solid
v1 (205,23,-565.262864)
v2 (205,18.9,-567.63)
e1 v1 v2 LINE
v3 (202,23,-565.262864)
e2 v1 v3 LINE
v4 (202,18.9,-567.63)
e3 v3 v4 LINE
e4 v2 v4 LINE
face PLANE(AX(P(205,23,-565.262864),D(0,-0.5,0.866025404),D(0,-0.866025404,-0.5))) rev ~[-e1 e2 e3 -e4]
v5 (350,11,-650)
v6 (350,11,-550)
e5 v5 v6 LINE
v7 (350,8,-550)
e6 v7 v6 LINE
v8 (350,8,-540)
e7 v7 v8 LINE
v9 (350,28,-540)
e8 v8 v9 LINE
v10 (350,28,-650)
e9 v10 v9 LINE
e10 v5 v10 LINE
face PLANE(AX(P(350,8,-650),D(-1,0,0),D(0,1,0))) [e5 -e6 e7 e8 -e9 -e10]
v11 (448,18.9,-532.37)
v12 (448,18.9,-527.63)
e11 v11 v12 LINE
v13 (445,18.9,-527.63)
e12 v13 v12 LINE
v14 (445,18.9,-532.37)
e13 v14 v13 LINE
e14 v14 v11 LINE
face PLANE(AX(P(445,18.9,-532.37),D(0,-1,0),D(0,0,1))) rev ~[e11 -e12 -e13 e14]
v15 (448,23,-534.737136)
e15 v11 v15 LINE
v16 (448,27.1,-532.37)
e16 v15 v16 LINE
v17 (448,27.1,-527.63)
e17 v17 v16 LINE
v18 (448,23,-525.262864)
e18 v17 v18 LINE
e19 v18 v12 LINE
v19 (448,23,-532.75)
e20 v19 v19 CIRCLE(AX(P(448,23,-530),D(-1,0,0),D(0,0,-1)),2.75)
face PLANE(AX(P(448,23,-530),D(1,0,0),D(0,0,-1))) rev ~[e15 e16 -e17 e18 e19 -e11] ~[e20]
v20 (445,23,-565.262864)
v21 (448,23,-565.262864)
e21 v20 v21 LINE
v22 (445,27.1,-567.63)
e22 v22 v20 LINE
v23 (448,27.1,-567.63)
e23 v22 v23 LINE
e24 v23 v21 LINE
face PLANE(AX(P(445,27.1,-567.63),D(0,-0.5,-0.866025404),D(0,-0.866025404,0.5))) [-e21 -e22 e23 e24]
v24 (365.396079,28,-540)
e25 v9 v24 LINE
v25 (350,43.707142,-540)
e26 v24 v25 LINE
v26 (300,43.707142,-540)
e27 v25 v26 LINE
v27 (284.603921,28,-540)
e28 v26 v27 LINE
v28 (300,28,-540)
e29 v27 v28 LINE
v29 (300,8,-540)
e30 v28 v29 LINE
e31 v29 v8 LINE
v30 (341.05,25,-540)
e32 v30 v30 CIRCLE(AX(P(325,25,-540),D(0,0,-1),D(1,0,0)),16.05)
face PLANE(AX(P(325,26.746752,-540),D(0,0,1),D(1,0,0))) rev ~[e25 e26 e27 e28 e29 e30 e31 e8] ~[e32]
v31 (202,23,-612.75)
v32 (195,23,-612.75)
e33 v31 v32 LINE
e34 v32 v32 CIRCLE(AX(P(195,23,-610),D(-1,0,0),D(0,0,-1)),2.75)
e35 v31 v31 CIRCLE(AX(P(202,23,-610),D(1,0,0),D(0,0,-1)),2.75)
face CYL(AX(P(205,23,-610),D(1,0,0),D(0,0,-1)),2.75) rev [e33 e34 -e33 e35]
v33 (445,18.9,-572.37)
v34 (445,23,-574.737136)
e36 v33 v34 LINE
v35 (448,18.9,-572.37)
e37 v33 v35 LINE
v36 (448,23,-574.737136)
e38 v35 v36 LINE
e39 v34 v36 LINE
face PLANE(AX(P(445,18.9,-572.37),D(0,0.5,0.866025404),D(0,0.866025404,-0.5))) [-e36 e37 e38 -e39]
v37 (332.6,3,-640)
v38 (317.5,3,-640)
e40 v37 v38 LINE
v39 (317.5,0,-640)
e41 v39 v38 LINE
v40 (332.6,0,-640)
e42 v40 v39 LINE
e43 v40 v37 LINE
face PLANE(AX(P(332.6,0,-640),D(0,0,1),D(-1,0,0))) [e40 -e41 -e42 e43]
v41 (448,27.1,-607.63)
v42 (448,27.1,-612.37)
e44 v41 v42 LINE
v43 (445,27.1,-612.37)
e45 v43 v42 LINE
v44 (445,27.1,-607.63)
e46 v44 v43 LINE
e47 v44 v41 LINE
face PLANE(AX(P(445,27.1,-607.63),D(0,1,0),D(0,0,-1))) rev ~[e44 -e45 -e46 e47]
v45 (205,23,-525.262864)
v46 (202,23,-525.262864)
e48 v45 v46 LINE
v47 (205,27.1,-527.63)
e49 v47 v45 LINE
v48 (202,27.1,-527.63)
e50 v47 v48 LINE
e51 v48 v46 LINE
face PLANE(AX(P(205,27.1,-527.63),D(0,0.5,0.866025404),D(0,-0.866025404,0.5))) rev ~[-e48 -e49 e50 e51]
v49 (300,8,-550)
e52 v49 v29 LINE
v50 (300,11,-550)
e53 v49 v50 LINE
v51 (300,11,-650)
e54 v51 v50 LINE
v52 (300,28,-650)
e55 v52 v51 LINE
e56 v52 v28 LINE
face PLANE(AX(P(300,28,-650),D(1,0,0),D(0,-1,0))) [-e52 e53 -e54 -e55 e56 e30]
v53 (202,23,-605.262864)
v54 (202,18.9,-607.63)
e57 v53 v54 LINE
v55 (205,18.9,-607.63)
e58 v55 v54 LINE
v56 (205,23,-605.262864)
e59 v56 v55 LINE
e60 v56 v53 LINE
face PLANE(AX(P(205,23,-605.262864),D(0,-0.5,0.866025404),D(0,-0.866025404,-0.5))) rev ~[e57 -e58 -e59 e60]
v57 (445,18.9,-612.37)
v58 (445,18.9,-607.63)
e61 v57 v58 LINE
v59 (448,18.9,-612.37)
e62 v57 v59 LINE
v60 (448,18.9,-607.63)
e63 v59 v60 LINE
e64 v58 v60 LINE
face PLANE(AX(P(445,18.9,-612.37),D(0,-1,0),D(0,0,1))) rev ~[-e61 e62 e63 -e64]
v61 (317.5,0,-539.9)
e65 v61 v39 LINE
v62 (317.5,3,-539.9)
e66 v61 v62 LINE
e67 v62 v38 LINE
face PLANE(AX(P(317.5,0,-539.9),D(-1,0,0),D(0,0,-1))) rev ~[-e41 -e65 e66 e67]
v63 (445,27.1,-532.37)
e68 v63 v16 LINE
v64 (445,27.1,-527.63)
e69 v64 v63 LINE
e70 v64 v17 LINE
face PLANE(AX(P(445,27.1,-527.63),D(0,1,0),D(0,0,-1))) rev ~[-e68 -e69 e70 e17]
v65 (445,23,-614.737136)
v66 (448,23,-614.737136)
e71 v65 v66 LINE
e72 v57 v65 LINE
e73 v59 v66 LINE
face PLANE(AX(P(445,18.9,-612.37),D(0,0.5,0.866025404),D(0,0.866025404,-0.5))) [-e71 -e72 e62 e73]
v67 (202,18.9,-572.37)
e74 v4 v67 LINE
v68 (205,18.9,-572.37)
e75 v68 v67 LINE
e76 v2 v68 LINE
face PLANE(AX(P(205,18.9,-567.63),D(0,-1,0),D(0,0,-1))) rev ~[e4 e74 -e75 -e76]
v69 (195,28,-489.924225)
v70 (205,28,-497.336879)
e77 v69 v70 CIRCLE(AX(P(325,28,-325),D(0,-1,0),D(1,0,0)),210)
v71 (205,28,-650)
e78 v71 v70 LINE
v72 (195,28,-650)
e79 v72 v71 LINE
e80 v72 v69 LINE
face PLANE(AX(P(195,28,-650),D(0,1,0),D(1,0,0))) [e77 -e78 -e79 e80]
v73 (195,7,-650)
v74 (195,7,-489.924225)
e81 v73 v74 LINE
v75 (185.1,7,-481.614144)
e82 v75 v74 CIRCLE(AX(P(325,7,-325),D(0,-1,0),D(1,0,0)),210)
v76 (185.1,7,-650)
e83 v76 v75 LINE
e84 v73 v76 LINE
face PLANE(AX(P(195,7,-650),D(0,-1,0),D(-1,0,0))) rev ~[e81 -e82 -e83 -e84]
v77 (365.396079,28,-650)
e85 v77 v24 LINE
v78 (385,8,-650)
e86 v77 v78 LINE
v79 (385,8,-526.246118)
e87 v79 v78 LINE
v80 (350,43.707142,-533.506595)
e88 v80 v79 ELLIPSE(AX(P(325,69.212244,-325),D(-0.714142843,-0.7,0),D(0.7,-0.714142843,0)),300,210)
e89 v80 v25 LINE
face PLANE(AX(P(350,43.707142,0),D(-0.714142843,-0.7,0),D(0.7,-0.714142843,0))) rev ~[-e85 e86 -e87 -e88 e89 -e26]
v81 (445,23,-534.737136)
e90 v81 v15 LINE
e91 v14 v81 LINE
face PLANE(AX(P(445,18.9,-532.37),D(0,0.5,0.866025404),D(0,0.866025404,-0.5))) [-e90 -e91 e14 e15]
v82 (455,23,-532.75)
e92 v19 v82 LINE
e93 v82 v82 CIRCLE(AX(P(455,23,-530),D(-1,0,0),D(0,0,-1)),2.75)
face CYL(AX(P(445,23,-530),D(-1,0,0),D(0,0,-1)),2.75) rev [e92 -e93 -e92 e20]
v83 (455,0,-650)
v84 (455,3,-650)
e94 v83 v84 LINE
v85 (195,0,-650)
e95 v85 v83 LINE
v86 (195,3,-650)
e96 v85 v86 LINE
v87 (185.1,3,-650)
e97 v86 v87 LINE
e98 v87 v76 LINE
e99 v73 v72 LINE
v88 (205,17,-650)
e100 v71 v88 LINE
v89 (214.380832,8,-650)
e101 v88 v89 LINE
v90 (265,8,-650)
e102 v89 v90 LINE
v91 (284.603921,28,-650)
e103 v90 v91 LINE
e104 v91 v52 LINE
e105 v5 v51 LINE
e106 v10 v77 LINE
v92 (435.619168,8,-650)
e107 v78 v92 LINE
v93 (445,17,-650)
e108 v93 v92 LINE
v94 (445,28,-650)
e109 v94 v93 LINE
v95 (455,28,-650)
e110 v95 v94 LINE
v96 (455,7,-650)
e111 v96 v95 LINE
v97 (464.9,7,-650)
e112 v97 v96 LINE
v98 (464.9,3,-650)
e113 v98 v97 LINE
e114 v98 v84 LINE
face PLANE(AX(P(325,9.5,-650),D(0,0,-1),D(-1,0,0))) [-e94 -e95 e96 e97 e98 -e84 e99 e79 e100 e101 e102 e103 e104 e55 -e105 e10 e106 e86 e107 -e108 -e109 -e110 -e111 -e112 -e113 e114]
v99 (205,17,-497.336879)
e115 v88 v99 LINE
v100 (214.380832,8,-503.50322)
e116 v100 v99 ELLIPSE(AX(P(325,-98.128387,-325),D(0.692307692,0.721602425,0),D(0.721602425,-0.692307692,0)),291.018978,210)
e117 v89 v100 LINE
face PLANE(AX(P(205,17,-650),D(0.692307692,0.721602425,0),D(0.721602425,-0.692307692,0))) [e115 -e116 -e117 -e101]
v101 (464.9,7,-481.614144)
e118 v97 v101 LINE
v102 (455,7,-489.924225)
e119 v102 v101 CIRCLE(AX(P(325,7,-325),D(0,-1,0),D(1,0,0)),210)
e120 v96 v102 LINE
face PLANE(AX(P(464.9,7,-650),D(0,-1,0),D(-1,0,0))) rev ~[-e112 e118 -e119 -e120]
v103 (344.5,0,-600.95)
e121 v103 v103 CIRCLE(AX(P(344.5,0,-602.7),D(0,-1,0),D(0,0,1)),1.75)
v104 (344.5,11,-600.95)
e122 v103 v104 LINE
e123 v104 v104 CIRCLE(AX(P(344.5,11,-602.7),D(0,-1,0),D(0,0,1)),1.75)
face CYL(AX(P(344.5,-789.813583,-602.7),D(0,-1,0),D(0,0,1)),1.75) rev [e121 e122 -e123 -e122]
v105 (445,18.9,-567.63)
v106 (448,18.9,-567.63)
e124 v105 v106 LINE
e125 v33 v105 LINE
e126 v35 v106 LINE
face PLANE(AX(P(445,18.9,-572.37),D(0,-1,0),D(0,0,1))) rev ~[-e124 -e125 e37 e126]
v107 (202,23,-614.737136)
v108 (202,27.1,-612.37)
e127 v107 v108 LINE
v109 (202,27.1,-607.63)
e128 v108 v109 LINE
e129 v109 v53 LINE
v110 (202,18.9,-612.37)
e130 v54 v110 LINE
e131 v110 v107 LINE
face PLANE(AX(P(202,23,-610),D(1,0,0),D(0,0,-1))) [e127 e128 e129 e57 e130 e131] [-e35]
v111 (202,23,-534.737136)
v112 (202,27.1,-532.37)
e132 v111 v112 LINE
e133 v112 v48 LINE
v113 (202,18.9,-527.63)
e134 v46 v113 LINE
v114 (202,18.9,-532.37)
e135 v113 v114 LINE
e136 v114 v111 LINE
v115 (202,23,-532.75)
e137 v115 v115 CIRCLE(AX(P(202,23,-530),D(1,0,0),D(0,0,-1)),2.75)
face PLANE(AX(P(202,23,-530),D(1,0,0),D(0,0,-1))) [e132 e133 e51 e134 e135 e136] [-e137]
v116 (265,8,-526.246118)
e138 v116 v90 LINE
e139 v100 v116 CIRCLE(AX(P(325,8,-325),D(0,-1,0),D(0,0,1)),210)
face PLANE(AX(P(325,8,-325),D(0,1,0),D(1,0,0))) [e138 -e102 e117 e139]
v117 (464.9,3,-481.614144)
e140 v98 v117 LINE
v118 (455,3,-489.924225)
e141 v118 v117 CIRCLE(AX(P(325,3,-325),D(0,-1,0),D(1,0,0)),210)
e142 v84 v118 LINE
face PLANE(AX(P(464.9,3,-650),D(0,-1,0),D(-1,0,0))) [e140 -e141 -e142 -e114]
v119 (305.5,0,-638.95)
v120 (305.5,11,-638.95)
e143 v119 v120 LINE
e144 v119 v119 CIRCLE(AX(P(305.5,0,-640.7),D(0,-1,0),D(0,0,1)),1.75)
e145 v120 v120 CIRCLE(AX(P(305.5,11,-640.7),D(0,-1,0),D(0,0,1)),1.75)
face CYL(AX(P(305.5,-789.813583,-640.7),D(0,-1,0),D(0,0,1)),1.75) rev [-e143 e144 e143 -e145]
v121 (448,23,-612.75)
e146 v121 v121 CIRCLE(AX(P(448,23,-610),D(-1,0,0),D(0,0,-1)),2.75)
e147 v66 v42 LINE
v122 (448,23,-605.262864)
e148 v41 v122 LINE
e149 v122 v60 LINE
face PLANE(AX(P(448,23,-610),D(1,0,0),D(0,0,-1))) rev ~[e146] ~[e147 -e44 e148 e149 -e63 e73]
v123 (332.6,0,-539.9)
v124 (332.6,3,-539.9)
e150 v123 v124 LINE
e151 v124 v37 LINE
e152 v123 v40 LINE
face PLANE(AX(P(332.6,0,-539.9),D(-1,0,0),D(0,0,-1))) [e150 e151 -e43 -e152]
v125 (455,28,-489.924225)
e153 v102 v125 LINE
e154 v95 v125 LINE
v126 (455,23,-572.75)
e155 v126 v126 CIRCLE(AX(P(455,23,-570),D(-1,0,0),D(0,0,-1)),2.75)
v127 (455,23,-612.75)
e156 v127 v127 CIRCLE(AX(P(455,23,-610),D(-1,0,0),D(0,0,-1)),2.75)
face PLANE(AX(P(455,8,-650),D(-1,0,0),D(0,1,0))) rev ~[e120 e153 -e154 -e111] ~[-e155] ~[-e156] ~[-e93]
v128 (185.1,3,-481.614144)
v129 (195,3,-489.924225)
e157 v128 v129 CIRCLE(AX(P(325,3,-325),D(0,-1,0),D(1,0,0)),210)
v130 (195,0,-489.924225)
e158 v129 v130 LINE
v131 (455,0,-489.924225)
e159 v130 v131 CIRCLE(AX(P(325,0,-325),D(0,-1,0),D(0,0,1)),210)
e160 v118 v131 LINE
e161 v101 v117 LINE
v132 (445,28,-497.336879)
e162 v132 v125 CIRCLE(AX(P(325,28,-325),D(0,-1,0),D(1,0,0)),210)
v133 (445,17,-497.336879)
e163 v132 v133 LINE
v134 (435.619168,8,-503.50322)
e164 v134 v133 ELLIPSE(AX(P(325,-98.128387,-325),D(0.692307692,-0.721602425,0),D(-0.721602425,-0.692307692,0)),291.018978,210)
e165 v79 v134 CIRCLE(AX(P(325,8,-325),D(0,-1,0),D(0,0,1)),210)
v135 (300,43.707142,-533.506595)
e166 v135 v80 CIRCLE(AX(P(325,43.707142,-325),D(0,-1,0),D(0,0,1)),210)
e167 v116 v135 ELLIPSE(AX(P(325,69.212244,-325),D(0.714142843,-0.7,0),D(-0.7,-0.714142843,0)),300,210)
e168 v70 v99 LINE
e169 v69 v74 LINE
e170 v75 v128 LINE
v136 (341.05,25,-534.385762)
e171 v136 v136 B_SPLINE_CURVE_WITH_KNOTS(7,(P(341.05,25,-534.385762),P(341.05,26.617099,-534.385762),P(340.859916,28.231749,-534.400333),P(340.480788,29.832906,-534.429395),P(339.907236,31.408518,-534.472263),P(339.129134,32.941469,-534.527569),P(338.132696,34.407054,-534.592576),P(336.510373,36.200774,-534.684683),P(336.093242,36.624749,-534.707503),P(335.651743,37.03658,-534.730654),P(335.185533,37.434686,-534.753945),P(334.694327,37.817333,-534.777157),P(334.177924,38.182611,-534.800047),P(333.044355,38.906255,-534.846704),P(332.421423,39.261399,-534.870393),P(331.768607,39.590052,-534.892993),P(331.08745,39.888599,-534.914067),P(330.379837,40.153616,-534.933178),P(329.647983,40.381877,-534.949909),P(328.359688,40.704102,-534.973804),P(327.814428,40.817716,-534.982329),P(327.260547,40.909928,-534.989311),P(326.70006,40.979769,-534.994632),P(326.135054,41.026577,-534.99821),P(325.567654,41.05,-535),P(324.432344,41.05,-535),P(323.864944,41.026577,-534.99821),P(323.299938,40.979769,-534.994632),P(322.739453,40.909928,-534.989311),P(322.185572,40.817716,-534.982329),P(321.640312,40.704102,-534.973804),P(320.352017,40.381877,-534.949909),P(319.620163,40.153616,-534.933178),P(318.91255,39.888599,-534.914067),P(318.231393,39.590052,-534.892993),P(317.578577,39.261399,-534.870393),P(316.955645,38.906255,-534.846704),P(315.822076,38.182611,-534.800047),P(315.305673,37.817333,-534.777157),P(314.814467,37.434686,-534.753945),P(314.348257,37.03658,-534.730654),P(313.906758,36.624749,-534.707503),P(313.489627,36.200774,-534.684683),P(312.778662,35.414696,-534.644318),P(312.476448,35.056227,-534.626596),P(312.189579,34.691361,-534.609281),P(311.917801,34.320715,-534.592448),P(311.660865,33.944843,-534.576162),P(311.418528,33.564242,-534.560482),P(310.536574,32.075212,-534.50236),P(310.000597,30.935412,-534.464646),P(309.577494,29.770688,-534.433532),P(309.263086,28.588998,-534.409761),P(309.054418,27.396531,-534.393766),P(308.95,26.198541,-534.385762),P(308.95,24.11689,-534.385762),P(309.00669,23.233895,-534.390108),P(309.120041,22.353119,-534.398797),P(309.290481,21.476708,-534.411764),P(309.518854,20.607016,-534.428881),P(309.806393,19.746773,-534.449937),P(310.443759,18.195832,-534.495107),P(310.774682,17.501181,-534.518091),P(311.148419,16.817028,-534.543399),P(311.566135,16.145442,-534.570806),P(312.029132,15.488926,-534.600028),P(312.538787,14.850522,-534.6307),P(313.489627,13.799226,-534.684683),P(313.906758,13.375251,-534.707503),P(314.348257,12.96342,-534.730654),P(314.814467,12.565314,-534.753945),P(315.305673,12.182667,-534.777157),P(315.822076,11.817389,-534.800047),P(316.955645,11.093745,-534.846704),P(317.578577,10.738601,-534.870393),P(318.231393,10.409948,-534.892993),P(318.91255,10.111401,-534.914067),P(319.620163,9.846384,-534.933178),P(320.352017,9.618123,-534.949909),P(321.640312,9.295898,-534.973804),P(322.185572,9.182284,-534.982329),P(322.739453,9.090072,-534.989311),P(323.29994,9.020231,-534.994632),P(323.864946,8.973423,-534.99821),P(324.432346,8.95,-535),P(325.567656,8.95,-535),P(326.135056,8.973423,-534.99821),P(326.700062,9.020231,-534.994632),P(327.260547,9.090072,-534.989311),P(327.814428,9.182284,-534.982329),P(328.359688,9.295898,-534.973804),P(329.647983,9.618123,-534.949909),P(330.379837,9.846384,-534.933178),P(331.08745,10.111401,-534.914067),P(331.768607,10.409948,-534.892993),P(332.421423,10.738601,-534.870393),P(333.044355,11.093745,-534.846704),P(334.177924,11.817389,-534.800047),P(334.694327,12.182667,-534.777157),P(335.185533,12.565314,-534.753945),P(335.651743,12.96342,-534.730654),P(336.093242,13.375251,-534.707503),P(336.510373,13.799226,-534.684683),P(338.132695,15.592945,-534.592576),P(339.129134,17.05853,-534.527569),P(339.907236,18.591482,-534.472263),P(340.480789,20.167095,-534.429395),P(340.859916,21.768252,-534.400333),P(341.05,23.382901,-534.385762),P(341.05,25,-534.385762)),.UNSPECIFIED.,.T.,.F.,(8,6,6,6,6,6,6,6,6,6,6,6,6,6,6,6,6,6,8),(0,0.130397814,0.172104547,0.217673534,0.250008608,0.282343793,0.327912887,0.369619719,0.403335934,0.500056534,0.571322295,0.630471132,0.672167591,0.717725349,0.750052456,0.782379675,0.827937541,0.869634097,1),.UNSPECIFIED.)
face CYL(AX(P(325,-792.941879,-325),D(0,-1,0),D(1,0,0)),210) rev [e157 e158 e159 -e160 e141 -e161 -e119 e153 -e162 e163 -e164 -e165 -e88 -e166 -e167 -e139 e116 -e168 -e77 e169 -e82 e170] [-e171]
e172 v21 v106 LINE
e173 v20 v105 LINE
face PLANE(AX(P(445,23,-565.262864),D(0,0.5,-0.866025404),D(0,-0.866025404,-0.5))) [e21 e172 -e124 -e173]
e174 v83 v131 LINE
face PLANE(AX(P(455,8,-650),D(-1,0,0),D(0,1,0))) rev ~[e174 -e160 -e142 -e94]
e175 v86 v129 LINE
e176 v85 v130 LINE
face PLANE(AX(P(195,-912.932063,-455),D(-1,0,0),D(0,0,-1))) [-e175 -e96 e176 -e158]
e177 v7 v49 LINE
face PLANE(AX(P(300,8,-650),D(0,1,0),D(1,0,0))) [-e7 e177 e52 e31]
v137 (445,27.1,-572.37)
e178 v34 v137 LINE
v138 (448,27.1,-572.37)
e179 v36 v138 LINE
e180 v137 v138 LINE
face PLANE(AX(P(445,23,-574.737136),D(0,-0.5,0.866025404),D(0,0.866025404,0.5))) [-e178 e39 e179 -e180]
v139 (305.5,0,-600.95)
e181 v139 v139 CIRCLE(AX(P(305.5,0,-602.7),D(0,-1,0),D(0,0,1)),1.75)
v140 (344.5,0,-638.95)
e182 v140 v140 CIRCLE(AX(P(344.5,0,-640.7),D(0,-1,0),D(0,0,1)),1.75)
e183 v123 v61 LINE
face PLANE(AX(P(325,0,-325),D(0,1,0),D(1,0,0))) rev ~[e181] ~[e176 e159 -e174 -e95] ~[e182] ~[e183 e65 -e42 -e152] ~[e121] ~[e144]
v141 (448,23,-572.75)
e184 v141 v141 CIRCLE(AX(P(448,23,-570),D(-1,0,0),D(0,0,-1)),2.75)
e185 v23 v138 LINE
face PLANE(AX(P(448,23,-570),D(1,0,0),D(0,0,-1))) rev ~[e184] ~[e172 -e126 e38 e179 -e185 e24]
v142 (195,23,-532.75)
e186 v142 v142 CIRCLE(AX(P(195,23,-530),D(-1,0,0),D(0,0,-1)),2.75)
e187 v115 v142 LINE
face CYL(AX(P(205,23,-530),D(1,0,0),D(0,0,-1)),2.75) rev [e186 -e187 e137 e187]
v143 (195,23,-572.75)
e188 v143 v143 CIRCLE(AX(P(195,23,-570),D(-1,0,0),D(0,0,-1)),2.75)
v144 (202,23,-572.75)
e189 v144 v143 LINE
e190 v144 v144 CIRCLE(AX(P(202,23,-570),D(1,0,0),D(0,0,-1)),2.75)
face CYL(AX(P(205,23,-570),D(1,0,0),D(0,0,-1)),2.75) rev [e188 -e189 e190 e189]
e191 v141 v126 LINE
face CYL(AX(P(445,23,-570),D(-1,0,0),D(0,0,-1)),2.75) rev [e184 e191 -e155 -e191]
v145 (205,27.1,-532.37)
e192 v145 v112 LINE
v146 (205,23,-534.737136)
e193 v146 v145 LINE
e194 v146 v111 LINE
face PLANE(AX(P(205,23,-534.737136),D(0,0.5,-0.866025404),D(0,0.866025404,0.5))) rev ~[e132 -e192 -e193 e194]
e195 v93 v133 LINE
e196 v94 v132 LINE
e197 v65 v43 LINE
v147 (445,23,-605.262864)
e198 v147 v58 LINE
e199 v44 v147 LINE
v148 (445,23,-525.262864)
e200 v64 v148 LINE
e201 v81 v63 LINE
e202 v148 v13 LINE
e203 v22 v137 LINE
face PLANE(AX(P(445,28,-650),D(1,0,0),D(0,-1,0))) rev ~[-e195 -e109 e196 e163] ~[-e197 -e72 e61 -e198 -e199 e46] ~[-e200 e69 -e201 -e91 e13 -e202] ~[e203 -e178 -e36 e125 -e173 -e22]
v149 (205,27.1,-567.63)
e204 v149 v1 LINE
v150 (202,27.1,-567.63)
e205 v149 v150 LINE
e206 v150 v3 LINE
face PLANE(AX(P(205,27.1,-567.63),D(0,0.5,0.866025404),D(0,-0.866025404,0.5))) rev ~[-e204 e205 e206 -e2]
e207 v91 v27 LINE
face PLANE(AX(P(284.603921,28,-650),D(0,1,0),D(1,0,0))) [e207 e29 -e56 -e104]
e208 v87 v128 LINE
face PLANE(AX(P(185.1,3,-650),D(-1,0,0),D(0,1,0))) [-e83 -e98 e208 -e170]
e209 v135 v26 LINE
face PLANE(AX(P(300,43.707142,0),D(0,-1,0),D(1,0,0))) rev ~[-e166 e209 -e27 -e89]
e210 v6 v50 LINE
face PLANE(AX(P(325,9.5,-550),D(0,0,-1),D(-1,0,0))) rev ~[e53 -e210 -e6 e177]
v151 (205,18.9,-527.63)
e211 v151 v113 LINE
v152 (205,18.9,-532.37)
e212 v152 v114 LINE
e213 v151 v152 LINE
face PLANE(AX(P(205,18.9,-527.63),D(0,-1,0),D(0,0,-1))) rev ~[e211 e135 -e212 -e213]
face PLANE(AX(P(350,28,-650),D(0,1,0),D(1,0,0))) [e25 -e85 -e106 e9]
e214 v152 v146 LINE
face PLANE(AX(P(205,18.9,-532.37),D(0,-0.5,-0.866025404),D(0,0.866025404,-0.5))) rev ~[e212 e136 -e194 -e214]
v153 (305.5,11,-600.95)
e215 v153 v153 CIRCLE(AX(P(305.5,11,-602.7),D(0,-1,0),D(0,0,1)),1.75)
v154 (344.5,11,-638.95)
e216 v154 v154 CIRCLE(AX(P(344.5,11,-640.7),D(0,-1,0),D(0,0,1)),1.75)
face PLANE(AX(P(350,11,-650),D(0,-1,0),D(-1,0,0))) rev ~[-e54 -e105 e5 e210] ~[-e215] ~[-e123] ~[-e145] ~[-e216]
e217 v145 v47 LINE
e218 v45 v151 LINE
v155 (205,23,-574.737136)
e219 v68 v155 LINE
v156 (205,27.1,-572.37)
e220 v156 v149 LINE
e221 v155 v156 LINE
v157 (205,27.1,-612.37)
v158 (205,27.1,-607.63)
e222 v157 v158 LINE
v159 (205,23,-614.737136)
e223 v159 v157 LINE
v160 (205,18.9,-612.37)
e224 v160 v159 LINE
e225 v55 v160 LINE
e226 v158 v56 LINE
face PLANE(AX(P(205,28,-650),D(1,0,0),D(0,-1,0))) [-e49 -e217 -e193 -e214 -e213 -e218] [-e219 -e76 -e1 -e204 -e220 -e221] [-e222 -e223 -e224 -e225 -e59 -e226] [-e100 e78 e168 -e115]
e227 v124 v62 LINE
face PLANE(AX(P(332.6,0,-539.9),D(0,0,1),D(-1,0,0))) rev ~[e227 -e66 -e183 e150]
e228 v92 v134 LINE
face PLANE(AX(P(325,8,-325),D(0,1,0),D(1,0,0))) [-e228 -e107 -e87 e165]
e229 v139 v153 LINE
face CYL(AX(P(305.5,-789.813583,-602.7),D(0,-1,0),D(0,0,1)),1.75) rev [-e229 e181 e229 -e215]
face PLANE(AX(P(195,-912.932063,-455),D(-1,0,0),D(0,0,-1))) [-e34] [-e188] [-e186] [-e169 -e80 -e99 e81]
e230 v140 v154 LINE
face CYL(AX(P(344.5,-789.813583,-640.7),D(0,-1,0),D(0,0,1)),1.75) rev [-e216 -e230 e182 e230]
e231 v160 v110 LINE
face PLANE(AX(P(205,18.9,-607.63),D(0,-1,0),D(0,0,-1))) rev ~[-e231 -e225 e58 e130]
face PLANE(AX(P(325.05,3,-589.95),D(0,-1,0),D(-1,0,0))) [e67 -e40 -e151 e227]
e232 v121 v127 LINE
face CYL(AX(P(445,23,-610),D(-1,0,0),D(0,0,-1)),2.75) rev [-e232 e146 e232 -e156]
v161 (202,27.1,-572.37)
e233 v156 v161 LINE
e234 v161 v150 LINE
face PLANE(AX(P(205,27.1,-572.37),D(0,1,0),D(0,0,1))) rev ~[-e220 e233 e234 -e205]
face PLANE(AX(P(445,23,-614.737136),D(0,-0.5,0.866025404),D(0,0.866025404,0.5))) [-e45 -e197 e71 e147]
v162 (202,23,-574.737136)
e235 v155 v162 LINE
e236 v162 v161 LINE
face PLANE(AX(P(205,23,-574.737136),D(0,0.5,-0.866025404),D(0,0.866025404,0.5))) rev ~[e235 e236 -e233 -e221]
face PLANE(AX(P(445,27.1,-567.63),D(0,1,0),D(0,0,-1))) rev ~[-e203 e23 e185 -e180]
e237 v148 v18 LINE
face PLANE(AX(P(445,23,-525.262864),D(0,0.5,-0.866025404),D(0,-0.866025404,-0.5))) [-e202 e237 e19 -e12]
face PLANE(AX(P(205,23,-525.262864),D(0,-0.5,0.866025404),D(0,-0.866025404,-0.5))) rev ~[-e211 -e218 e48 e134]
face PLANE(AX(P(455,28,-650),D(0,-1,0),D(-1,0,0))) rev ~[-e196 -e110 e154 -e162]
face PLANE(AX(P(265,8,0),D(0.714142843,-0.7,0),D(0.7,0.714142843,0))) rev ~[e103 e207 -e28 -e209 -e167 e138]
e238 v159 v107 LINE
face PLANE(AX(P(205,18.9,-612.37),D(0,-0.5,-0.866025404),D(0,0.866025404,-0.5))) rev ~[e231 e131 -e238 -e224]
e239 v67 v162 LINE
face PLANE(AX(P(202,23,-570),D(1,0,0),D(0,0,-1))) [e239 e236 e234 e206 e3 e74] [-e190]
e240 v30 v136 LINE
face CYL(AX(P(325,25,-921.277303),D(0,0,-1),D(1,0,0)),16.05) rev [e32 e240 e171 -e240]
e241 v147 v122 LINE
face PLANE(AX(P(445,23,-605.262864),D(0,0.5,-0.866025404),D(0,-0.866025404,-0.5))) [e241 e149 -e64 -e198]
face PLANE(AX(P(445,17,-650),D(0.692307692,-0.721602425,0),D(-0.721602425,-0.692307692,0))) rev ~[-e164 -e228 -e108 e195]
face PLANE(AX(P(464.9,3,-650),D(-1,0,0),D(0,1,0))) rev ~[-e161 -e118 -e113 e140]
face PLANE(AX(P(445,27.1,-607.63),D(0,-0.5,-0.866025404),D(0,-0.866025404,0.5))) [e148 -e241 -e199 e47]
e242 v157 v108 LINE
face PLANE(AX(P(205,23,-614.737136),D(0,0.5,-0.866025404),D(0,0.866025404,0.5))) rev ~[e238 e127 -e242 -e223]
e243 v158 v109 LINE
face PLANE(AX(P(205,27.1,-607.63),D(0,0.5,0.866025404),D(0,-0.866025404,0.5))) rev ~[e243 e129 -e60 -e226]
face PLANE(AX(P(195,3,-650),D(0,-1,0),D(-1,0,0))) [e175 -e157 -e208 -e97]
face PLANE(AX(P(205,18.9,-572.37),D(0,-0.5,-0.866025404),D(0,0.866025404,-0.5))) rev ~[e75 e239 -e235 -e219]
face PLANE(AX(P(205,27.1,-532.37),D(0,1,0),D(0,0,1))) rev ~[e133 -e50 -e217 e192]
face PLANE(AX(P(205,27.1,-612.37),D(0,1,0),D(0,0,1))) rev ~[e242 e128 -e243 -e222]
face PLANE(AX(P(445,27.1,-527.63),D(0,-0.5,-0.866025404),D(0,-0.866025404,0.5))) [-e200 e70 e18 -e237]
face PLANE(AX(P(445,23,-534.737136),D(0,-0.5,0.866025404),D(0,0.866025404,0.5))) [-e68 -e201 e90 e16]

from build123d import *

# Parameters (mm, degrees)
SKETCH1_W               = 650
SKETCH1_H               = 650
BOSS_EXTRUDE1_DEPTH     = 8
BOSS_EXTRUDE2_DEPTH     = 650
CUT_EXTRUDE2_DEPTH      = 921.277302922
CUT_EXTRUDE2_DEPTH_BACK = 921.277302922
SKETCH4_R               = 16.05
CUT_EXTRUDE1_DEPTH      = 920.932062709
CUT_EXTRUDE1_DEPTH_BACK = 920.932062709
SKETCH2_R               = 210
CUT_EXTRUDE3_DEPTH      = 921.277302998
CUT_EXTRUDE3_DEPTH_BACK = 110
CUT_EXTRUDE4_DEPTH      = 110
CUT_EXTRUDE5_DEPTH      = 920.932062713
CUT_EXTRUDE5_DEPTH_BACK = 920.932062713
SKETCH7_OUTSIDE_W       = 836.056
SKETCH7_OUTSIDE_H       = 836.056
SKETCH7_OUTSIDE_W_2     = 260
SKETCH7_OUTSIDE_H_2     = 231.544504505
BOSS_EXTRUDE3_DEPTH     = 170
SKETCH9_W               = 9.9
SKETCH9_H               = 4
BOSS_EXTRUDE4_DEPTH     = 170
CUT_EXTRUDE6_DEPTH      = 800.941879143
CUT_EXTRUDE6_DEPTH_BACK = 800.941879143
SKETCH10_R              = 210
SKETCH11_W              = 50
SKETCH11_H              = 3
BOSS_EXTRUDE5_DEPTH     = 100
CUT_EXTRUDE7_DEPTH      = 800.81358281
CUT_EXTRUDE7_DEPTH_BACK = 800.81358281
SKETCH12_R              = 1.75
CUT_EXTRUDE8_DEPTH      = 706.164040729
CUT_EXTRUDE8_DEPTH_BACK = 10
SKETCH13_R              = 2.75
CUT_EXTRUDE9_START      = -10
SKETCH14_R              = 2.75
CUT_EXTRUDE9_DEPTH      = 10
CUT_EXTRUDE10_DEPTH     = 3
LPATTERN1_COUNT         = 3
LPATTERN1_PITCH         = 40
CUT_EXTRUDE11_DEPTH     = 3
LPATTERN2_COUNT         = 3
LPATTERN2_PITCH         = 40
SKETCH17_W              = 15.1
SKETCH17_H              = 100.1
CUT_EXTRUDE12_DEPTH     = 3


with BuildPart() as part:
    # Sketch1 → Boss-Extrude1 (new body)
    with BuildSketch(Plane(origin=(0, 0, 0), x_dir=(1, 0, 0), z_dir=(0, 1, 0))):
        with Locations((325, 325)):
            Rectangle(SKETCH1_W, SKETCH1_H)
    extrude(amount=BOSS_EXTRUDE1_DEPTH)

    # Sketch3 → Boss-Extrude2 (add)
    with BuildSketch(Plane.XY):
        Polygon((300, 43.707142143), (350, 43.707142143), (385, 8), (265, 8), align=None)
    extrude(amount=-BOSS_EXTRUDE2_DEPTH)

    # Sketch4 → Cut-Extrude2 (cut, two sides: drawn at the far end of the back side and taken through both)
    with BuildSketch(Plane.XY.offset(-CUT_EXTRUDE2_DEPTH_BACK)):
        with Locations((325, 25)):
            Circle(SKETCH4_R)
    extrude(amount=CUT_EXTRUDE2_DEPTH + CUT_EXTRUDE2_DEPTH_BACK, mode=Mode.SUBTRACT)

    # Sketch2 → Cut-Extrude1 (cut, two sides: drawn at the far end of the back side and taken through both)
    with BuildSketch(Plane(origin=(0, 8, 0), x_dir=(1, 0, 0), z_dir=(0, 1, 0)).offset(-CUT_EXTRUDE1_DEPTH_BACK)):
        with Locations(Location((325, 325, 0), (0, 0, 270))):
            Circle(SKETCH2_R)
    extrude(amount=CUT_EXTRUDE1_DEPTH + CUT_EXTRUDE1_DEPTH_BACK, mode=Mode.SUBTRACT)

    # Sketch5 → Cut-Extrude3 (cut, two sides: drawn at the far end of the back side and taken through both)
    with BuildSketch(Plane.XY.offset(-CUT_EXTRUDE3_DEPTH_BACK)):
        Polygon((300, 43.707142143), (350, 43.707142143), (365.396078824, 28), (350, 28), (350, 8), (300, 8), (300, 28), (284.603921176, 28), align=None)
    extrude(amount=CUT_EXTRUDE3_DEPTH + CUT_EXTRUDE3_DEPTH_BACK, mode=Mode.SUBTRACT)

    # Sketch6 → Cut-Extrude4 (cut)
    with BuildSketch(Plane(origin=(0, 0, -650), x_dir=(-1, 0, 0), z_dir=(0, 0, -1))):
        Polygon((-350, 43.707142143), (-300, 43.707142143), (-284.603921176, 28), (-300, 28), (-300, 8), (-350, 8), (-350, 28), (-365.396078824, 28), align=None)
    extrude(amount=-CUT_EXTRUDE4_DEPTH, mode=Mode.SUBTRACT)

    # Sketch7 outside → Cut-Extrude5 (cut, two sides: drawn at the far end of the back side and taken through both)
    with BuildSketch(Plane(origin=(0, 8, 0), x_dir=(1, 0, 0), z_dir=(0, 1, 0)).offset(-CUT_EXTRUDE5_DEPTH_BACK)):
        with Locations((325, 325)):
            Rectangle(SKETCH7_OUTSIDE_W, SKETCH7_OUTSIDE_H)
        with Locations((325, 570.772252253)):
            Rectangle(SKETCH7_OUTSIDE_W_2, SKETCH7_OUTSIDE_H_2, mode=Mode.SUBTRACT)
    extrude(amount=CUT_EXTRUDE5_DEPTH + CUT_EXTRUDE5_DEPTH_BACK, mode=Mode.SUBTRACT)

    # Sketch8 → Boss-Extrude3 (add)
    with BuildSketch(Plane(origin=(0, 0, -650), x_dir=(-1, 0, 0), z_dir=(0, 0, -1))):
        Polygon((-455, 8), (-455, 28), (-445, 28), (-445, 17), (-435.61916848, 8), align=None)
        Polygon((-195, 8), (-195, 28), (-205, 28), (-205, 17), (-214.38083152, 8), align=None)
    extrude(amount=-BOSS_EXTRUDE3_DEPTH)

    # Sketch9 → Boss-Extrude4 (add)
    with BuildSketch(Plane(origin=(0, 0, -650), x_dir=(-1, 0, 0), z_dir=(0, 0, -1))):
        with Locations((-459.95, 5)):
            Rectangle(SKETCH9_W, SKETCH9_H)
        with Locations((-190.05, 5)):
            Rectangle(SKETCH9_W, SKETCH9_H)
    extrude(amount=-BOSS_EXTRUDE4_DEPTH)

    # Sketch10 → Cut-Extrude6 (cut, two sides: drawn at the far end of the back side and taken through both)
    with BuildSketch(Plane(origin=(0, 8, 0), x_dir=(1, 0, 0), z_dir=(0, 1, 0)).offset(-CUT_EXTRUDE6_DEPTH_BACK)):
        with Locations((325, 325)):
            Circle(SKETCH10_R)
    extrude(amount=CUT_EXTRUDE6_DEPTH + CUT_EXTRUDE6_DEPTH_BACK, mode=Mode.SUBTRACT)

    # Sketch11 → Boss-Extrude5 (add)
    with BuildSketch(Plane(origin=(0, 0, -650), x_dir=(-1, 0, 0), z_dir=(0, 0, -1))):
        with Locations((-325, 9.5)):
            Rectangle(SKETCH11_W, SKETCH11_H)
    extrude(amount=-BOSS_EXTRUDE5_DEPTH)

    # Sketch12 → Cut-Extrude7 (cut, two sides: drawn at the far end of the back side and taken through both)
    with BuildSketch(Plane(origin=(0, 11, 0), x_dir=(1, 0, 0), z_dir=(0, 1, 0)).offset(-CUT_EXTRUDE7_DEPTH_BACK)):
        with Locations(Location((305.5, 640.7, 0), (0, 0, 270))):
            Circle(SKETCH12_R)
        with Locations(Location((344.5, 640.7, 0), (0, 0, 270))):
            Circle(SKETCH12_R)
        with Locations(Location((344.5, 602.7, 0), (0, 0, 270))):
            Circle(SKETCH12_R)
        with Locations(Location((305.5, 602.7, 0), (0, 0, 270))):
            Circle(SKETCH12_R)
    extrude(amount=CUT_EXTRUDE7_DEPTH + CUT_EXTRUDE7_DEPTH_BACK, mode=Mode.SUBTRACT)

    # Sketch13 → Cut-Extrude8 (cut, two sides: drawn at the far end of the back side and taken through both)
    with BuildSketch(Plane(origin=(455, 0, 0), x_dir=(0, 0, -1), z_dir=(1, 0, 0)).offset(-CUT_EXTRUDE8_DEPTH_BACK)):
        with Locations((610, 23)):
            Circle(SKETCH13_R)
        with Locations((570, 23)):
            Circle(SKETCH13_R)
        with Locations((530, 23)):
            Circle(SKETCH13_R)
    extrude(amount=CUT_EXTRUDE8_DEPTH + CUT_EXTRUDE8_DEPTH_BACK, mode=Mode.SUBTRACT)

    # Sketch14 → Cut-Extrude9 (cut)
    with BuildSketch(Plane.ZY.offset(-195).offset(CUT_EXTRUDE9_START)):
        with Locations(Location((-610, 23, 0), (0, 0, 180))):
            Circle(SKETCH14_R)
        with Locations(Location((-570, 23, 0), (0, 0, 180))):
            Circle(SKETCH14_R)
        with Locations(Location((-530, 23, 0), (0, 0, 180))):
            Circle(SKETCH14_R)
    extrude(amount=CUT_EXTRUDE9_DEPTH, mode=Mode.SUBTRACT)

    # Sketch15 → Cut-Extrude10 (cut)
    with BuildSketch(Plane(origin=(205, 0, 0), x_dir=(0, 0, -1), z_dir=(1, 0, 0))):
        Polygon((530, 27.1), (527.63, 27.1), (525.262863896, 23), (527.63, 18.9), (530, 18.9), (532.37, 18.9), (534.737136104, 23), (532.37, 27.1), align=None)
    cut_extrude10 = extrude(amount=-CUT_EXTRUDE10_DEPTH, mode=Mode.SUBTRACT)

    # LPattern1: Cut-Extrude10 ×3
    with Locations(*[(0, 0, -i * LPATTERN1_PITCH) for i in range(1, LPATTERN1_COUNT)]):
        add(cut_extrude10, mode=Mode.SUBTRACT)

    # Sketch16 → Cut-Extrude11 (cut)
    with BuildSketch(Plane.ZY.offset(-445)):
        Polygon((-610, 27.1), (-607.63, 27.1), (-605.262863896, 23), (-607.63, 18.9), (-610, 18.9), (-612.37, 18.9), (-614.737136104, 23), (-612.37, 27.1), align=None)
    cut_extrude11 = extrude(amount=-CUT_EXTRUDE11_DEPTH, mode=Mode.SUBTRACT)

    # LPattern2: Cut-Extrude11 ×3
    with Locations(*[(0, 0, i * LPATTERN2_PITCH) for i in range(1, LPATTERN2_COUNT)]):
        add(cut_extrude11, mode=Mode.SUBTRACT)

    # Sketch17 → Cut-Extrude12 (cut)
    with BuildSketch(Plane(origin=(0, 0, 0), x_dir=(-1, 0, 0), z_dir=(0, -1, 0))):
        with Locations((-325.05, 589.95)):
            Rectangle(SKETCH17_W, SKETCH17_H)
    extrude(amount=-CUT_EXTRUDE12_DEPTH, mode=Mode.SUBTRACT)


solid = part.part
